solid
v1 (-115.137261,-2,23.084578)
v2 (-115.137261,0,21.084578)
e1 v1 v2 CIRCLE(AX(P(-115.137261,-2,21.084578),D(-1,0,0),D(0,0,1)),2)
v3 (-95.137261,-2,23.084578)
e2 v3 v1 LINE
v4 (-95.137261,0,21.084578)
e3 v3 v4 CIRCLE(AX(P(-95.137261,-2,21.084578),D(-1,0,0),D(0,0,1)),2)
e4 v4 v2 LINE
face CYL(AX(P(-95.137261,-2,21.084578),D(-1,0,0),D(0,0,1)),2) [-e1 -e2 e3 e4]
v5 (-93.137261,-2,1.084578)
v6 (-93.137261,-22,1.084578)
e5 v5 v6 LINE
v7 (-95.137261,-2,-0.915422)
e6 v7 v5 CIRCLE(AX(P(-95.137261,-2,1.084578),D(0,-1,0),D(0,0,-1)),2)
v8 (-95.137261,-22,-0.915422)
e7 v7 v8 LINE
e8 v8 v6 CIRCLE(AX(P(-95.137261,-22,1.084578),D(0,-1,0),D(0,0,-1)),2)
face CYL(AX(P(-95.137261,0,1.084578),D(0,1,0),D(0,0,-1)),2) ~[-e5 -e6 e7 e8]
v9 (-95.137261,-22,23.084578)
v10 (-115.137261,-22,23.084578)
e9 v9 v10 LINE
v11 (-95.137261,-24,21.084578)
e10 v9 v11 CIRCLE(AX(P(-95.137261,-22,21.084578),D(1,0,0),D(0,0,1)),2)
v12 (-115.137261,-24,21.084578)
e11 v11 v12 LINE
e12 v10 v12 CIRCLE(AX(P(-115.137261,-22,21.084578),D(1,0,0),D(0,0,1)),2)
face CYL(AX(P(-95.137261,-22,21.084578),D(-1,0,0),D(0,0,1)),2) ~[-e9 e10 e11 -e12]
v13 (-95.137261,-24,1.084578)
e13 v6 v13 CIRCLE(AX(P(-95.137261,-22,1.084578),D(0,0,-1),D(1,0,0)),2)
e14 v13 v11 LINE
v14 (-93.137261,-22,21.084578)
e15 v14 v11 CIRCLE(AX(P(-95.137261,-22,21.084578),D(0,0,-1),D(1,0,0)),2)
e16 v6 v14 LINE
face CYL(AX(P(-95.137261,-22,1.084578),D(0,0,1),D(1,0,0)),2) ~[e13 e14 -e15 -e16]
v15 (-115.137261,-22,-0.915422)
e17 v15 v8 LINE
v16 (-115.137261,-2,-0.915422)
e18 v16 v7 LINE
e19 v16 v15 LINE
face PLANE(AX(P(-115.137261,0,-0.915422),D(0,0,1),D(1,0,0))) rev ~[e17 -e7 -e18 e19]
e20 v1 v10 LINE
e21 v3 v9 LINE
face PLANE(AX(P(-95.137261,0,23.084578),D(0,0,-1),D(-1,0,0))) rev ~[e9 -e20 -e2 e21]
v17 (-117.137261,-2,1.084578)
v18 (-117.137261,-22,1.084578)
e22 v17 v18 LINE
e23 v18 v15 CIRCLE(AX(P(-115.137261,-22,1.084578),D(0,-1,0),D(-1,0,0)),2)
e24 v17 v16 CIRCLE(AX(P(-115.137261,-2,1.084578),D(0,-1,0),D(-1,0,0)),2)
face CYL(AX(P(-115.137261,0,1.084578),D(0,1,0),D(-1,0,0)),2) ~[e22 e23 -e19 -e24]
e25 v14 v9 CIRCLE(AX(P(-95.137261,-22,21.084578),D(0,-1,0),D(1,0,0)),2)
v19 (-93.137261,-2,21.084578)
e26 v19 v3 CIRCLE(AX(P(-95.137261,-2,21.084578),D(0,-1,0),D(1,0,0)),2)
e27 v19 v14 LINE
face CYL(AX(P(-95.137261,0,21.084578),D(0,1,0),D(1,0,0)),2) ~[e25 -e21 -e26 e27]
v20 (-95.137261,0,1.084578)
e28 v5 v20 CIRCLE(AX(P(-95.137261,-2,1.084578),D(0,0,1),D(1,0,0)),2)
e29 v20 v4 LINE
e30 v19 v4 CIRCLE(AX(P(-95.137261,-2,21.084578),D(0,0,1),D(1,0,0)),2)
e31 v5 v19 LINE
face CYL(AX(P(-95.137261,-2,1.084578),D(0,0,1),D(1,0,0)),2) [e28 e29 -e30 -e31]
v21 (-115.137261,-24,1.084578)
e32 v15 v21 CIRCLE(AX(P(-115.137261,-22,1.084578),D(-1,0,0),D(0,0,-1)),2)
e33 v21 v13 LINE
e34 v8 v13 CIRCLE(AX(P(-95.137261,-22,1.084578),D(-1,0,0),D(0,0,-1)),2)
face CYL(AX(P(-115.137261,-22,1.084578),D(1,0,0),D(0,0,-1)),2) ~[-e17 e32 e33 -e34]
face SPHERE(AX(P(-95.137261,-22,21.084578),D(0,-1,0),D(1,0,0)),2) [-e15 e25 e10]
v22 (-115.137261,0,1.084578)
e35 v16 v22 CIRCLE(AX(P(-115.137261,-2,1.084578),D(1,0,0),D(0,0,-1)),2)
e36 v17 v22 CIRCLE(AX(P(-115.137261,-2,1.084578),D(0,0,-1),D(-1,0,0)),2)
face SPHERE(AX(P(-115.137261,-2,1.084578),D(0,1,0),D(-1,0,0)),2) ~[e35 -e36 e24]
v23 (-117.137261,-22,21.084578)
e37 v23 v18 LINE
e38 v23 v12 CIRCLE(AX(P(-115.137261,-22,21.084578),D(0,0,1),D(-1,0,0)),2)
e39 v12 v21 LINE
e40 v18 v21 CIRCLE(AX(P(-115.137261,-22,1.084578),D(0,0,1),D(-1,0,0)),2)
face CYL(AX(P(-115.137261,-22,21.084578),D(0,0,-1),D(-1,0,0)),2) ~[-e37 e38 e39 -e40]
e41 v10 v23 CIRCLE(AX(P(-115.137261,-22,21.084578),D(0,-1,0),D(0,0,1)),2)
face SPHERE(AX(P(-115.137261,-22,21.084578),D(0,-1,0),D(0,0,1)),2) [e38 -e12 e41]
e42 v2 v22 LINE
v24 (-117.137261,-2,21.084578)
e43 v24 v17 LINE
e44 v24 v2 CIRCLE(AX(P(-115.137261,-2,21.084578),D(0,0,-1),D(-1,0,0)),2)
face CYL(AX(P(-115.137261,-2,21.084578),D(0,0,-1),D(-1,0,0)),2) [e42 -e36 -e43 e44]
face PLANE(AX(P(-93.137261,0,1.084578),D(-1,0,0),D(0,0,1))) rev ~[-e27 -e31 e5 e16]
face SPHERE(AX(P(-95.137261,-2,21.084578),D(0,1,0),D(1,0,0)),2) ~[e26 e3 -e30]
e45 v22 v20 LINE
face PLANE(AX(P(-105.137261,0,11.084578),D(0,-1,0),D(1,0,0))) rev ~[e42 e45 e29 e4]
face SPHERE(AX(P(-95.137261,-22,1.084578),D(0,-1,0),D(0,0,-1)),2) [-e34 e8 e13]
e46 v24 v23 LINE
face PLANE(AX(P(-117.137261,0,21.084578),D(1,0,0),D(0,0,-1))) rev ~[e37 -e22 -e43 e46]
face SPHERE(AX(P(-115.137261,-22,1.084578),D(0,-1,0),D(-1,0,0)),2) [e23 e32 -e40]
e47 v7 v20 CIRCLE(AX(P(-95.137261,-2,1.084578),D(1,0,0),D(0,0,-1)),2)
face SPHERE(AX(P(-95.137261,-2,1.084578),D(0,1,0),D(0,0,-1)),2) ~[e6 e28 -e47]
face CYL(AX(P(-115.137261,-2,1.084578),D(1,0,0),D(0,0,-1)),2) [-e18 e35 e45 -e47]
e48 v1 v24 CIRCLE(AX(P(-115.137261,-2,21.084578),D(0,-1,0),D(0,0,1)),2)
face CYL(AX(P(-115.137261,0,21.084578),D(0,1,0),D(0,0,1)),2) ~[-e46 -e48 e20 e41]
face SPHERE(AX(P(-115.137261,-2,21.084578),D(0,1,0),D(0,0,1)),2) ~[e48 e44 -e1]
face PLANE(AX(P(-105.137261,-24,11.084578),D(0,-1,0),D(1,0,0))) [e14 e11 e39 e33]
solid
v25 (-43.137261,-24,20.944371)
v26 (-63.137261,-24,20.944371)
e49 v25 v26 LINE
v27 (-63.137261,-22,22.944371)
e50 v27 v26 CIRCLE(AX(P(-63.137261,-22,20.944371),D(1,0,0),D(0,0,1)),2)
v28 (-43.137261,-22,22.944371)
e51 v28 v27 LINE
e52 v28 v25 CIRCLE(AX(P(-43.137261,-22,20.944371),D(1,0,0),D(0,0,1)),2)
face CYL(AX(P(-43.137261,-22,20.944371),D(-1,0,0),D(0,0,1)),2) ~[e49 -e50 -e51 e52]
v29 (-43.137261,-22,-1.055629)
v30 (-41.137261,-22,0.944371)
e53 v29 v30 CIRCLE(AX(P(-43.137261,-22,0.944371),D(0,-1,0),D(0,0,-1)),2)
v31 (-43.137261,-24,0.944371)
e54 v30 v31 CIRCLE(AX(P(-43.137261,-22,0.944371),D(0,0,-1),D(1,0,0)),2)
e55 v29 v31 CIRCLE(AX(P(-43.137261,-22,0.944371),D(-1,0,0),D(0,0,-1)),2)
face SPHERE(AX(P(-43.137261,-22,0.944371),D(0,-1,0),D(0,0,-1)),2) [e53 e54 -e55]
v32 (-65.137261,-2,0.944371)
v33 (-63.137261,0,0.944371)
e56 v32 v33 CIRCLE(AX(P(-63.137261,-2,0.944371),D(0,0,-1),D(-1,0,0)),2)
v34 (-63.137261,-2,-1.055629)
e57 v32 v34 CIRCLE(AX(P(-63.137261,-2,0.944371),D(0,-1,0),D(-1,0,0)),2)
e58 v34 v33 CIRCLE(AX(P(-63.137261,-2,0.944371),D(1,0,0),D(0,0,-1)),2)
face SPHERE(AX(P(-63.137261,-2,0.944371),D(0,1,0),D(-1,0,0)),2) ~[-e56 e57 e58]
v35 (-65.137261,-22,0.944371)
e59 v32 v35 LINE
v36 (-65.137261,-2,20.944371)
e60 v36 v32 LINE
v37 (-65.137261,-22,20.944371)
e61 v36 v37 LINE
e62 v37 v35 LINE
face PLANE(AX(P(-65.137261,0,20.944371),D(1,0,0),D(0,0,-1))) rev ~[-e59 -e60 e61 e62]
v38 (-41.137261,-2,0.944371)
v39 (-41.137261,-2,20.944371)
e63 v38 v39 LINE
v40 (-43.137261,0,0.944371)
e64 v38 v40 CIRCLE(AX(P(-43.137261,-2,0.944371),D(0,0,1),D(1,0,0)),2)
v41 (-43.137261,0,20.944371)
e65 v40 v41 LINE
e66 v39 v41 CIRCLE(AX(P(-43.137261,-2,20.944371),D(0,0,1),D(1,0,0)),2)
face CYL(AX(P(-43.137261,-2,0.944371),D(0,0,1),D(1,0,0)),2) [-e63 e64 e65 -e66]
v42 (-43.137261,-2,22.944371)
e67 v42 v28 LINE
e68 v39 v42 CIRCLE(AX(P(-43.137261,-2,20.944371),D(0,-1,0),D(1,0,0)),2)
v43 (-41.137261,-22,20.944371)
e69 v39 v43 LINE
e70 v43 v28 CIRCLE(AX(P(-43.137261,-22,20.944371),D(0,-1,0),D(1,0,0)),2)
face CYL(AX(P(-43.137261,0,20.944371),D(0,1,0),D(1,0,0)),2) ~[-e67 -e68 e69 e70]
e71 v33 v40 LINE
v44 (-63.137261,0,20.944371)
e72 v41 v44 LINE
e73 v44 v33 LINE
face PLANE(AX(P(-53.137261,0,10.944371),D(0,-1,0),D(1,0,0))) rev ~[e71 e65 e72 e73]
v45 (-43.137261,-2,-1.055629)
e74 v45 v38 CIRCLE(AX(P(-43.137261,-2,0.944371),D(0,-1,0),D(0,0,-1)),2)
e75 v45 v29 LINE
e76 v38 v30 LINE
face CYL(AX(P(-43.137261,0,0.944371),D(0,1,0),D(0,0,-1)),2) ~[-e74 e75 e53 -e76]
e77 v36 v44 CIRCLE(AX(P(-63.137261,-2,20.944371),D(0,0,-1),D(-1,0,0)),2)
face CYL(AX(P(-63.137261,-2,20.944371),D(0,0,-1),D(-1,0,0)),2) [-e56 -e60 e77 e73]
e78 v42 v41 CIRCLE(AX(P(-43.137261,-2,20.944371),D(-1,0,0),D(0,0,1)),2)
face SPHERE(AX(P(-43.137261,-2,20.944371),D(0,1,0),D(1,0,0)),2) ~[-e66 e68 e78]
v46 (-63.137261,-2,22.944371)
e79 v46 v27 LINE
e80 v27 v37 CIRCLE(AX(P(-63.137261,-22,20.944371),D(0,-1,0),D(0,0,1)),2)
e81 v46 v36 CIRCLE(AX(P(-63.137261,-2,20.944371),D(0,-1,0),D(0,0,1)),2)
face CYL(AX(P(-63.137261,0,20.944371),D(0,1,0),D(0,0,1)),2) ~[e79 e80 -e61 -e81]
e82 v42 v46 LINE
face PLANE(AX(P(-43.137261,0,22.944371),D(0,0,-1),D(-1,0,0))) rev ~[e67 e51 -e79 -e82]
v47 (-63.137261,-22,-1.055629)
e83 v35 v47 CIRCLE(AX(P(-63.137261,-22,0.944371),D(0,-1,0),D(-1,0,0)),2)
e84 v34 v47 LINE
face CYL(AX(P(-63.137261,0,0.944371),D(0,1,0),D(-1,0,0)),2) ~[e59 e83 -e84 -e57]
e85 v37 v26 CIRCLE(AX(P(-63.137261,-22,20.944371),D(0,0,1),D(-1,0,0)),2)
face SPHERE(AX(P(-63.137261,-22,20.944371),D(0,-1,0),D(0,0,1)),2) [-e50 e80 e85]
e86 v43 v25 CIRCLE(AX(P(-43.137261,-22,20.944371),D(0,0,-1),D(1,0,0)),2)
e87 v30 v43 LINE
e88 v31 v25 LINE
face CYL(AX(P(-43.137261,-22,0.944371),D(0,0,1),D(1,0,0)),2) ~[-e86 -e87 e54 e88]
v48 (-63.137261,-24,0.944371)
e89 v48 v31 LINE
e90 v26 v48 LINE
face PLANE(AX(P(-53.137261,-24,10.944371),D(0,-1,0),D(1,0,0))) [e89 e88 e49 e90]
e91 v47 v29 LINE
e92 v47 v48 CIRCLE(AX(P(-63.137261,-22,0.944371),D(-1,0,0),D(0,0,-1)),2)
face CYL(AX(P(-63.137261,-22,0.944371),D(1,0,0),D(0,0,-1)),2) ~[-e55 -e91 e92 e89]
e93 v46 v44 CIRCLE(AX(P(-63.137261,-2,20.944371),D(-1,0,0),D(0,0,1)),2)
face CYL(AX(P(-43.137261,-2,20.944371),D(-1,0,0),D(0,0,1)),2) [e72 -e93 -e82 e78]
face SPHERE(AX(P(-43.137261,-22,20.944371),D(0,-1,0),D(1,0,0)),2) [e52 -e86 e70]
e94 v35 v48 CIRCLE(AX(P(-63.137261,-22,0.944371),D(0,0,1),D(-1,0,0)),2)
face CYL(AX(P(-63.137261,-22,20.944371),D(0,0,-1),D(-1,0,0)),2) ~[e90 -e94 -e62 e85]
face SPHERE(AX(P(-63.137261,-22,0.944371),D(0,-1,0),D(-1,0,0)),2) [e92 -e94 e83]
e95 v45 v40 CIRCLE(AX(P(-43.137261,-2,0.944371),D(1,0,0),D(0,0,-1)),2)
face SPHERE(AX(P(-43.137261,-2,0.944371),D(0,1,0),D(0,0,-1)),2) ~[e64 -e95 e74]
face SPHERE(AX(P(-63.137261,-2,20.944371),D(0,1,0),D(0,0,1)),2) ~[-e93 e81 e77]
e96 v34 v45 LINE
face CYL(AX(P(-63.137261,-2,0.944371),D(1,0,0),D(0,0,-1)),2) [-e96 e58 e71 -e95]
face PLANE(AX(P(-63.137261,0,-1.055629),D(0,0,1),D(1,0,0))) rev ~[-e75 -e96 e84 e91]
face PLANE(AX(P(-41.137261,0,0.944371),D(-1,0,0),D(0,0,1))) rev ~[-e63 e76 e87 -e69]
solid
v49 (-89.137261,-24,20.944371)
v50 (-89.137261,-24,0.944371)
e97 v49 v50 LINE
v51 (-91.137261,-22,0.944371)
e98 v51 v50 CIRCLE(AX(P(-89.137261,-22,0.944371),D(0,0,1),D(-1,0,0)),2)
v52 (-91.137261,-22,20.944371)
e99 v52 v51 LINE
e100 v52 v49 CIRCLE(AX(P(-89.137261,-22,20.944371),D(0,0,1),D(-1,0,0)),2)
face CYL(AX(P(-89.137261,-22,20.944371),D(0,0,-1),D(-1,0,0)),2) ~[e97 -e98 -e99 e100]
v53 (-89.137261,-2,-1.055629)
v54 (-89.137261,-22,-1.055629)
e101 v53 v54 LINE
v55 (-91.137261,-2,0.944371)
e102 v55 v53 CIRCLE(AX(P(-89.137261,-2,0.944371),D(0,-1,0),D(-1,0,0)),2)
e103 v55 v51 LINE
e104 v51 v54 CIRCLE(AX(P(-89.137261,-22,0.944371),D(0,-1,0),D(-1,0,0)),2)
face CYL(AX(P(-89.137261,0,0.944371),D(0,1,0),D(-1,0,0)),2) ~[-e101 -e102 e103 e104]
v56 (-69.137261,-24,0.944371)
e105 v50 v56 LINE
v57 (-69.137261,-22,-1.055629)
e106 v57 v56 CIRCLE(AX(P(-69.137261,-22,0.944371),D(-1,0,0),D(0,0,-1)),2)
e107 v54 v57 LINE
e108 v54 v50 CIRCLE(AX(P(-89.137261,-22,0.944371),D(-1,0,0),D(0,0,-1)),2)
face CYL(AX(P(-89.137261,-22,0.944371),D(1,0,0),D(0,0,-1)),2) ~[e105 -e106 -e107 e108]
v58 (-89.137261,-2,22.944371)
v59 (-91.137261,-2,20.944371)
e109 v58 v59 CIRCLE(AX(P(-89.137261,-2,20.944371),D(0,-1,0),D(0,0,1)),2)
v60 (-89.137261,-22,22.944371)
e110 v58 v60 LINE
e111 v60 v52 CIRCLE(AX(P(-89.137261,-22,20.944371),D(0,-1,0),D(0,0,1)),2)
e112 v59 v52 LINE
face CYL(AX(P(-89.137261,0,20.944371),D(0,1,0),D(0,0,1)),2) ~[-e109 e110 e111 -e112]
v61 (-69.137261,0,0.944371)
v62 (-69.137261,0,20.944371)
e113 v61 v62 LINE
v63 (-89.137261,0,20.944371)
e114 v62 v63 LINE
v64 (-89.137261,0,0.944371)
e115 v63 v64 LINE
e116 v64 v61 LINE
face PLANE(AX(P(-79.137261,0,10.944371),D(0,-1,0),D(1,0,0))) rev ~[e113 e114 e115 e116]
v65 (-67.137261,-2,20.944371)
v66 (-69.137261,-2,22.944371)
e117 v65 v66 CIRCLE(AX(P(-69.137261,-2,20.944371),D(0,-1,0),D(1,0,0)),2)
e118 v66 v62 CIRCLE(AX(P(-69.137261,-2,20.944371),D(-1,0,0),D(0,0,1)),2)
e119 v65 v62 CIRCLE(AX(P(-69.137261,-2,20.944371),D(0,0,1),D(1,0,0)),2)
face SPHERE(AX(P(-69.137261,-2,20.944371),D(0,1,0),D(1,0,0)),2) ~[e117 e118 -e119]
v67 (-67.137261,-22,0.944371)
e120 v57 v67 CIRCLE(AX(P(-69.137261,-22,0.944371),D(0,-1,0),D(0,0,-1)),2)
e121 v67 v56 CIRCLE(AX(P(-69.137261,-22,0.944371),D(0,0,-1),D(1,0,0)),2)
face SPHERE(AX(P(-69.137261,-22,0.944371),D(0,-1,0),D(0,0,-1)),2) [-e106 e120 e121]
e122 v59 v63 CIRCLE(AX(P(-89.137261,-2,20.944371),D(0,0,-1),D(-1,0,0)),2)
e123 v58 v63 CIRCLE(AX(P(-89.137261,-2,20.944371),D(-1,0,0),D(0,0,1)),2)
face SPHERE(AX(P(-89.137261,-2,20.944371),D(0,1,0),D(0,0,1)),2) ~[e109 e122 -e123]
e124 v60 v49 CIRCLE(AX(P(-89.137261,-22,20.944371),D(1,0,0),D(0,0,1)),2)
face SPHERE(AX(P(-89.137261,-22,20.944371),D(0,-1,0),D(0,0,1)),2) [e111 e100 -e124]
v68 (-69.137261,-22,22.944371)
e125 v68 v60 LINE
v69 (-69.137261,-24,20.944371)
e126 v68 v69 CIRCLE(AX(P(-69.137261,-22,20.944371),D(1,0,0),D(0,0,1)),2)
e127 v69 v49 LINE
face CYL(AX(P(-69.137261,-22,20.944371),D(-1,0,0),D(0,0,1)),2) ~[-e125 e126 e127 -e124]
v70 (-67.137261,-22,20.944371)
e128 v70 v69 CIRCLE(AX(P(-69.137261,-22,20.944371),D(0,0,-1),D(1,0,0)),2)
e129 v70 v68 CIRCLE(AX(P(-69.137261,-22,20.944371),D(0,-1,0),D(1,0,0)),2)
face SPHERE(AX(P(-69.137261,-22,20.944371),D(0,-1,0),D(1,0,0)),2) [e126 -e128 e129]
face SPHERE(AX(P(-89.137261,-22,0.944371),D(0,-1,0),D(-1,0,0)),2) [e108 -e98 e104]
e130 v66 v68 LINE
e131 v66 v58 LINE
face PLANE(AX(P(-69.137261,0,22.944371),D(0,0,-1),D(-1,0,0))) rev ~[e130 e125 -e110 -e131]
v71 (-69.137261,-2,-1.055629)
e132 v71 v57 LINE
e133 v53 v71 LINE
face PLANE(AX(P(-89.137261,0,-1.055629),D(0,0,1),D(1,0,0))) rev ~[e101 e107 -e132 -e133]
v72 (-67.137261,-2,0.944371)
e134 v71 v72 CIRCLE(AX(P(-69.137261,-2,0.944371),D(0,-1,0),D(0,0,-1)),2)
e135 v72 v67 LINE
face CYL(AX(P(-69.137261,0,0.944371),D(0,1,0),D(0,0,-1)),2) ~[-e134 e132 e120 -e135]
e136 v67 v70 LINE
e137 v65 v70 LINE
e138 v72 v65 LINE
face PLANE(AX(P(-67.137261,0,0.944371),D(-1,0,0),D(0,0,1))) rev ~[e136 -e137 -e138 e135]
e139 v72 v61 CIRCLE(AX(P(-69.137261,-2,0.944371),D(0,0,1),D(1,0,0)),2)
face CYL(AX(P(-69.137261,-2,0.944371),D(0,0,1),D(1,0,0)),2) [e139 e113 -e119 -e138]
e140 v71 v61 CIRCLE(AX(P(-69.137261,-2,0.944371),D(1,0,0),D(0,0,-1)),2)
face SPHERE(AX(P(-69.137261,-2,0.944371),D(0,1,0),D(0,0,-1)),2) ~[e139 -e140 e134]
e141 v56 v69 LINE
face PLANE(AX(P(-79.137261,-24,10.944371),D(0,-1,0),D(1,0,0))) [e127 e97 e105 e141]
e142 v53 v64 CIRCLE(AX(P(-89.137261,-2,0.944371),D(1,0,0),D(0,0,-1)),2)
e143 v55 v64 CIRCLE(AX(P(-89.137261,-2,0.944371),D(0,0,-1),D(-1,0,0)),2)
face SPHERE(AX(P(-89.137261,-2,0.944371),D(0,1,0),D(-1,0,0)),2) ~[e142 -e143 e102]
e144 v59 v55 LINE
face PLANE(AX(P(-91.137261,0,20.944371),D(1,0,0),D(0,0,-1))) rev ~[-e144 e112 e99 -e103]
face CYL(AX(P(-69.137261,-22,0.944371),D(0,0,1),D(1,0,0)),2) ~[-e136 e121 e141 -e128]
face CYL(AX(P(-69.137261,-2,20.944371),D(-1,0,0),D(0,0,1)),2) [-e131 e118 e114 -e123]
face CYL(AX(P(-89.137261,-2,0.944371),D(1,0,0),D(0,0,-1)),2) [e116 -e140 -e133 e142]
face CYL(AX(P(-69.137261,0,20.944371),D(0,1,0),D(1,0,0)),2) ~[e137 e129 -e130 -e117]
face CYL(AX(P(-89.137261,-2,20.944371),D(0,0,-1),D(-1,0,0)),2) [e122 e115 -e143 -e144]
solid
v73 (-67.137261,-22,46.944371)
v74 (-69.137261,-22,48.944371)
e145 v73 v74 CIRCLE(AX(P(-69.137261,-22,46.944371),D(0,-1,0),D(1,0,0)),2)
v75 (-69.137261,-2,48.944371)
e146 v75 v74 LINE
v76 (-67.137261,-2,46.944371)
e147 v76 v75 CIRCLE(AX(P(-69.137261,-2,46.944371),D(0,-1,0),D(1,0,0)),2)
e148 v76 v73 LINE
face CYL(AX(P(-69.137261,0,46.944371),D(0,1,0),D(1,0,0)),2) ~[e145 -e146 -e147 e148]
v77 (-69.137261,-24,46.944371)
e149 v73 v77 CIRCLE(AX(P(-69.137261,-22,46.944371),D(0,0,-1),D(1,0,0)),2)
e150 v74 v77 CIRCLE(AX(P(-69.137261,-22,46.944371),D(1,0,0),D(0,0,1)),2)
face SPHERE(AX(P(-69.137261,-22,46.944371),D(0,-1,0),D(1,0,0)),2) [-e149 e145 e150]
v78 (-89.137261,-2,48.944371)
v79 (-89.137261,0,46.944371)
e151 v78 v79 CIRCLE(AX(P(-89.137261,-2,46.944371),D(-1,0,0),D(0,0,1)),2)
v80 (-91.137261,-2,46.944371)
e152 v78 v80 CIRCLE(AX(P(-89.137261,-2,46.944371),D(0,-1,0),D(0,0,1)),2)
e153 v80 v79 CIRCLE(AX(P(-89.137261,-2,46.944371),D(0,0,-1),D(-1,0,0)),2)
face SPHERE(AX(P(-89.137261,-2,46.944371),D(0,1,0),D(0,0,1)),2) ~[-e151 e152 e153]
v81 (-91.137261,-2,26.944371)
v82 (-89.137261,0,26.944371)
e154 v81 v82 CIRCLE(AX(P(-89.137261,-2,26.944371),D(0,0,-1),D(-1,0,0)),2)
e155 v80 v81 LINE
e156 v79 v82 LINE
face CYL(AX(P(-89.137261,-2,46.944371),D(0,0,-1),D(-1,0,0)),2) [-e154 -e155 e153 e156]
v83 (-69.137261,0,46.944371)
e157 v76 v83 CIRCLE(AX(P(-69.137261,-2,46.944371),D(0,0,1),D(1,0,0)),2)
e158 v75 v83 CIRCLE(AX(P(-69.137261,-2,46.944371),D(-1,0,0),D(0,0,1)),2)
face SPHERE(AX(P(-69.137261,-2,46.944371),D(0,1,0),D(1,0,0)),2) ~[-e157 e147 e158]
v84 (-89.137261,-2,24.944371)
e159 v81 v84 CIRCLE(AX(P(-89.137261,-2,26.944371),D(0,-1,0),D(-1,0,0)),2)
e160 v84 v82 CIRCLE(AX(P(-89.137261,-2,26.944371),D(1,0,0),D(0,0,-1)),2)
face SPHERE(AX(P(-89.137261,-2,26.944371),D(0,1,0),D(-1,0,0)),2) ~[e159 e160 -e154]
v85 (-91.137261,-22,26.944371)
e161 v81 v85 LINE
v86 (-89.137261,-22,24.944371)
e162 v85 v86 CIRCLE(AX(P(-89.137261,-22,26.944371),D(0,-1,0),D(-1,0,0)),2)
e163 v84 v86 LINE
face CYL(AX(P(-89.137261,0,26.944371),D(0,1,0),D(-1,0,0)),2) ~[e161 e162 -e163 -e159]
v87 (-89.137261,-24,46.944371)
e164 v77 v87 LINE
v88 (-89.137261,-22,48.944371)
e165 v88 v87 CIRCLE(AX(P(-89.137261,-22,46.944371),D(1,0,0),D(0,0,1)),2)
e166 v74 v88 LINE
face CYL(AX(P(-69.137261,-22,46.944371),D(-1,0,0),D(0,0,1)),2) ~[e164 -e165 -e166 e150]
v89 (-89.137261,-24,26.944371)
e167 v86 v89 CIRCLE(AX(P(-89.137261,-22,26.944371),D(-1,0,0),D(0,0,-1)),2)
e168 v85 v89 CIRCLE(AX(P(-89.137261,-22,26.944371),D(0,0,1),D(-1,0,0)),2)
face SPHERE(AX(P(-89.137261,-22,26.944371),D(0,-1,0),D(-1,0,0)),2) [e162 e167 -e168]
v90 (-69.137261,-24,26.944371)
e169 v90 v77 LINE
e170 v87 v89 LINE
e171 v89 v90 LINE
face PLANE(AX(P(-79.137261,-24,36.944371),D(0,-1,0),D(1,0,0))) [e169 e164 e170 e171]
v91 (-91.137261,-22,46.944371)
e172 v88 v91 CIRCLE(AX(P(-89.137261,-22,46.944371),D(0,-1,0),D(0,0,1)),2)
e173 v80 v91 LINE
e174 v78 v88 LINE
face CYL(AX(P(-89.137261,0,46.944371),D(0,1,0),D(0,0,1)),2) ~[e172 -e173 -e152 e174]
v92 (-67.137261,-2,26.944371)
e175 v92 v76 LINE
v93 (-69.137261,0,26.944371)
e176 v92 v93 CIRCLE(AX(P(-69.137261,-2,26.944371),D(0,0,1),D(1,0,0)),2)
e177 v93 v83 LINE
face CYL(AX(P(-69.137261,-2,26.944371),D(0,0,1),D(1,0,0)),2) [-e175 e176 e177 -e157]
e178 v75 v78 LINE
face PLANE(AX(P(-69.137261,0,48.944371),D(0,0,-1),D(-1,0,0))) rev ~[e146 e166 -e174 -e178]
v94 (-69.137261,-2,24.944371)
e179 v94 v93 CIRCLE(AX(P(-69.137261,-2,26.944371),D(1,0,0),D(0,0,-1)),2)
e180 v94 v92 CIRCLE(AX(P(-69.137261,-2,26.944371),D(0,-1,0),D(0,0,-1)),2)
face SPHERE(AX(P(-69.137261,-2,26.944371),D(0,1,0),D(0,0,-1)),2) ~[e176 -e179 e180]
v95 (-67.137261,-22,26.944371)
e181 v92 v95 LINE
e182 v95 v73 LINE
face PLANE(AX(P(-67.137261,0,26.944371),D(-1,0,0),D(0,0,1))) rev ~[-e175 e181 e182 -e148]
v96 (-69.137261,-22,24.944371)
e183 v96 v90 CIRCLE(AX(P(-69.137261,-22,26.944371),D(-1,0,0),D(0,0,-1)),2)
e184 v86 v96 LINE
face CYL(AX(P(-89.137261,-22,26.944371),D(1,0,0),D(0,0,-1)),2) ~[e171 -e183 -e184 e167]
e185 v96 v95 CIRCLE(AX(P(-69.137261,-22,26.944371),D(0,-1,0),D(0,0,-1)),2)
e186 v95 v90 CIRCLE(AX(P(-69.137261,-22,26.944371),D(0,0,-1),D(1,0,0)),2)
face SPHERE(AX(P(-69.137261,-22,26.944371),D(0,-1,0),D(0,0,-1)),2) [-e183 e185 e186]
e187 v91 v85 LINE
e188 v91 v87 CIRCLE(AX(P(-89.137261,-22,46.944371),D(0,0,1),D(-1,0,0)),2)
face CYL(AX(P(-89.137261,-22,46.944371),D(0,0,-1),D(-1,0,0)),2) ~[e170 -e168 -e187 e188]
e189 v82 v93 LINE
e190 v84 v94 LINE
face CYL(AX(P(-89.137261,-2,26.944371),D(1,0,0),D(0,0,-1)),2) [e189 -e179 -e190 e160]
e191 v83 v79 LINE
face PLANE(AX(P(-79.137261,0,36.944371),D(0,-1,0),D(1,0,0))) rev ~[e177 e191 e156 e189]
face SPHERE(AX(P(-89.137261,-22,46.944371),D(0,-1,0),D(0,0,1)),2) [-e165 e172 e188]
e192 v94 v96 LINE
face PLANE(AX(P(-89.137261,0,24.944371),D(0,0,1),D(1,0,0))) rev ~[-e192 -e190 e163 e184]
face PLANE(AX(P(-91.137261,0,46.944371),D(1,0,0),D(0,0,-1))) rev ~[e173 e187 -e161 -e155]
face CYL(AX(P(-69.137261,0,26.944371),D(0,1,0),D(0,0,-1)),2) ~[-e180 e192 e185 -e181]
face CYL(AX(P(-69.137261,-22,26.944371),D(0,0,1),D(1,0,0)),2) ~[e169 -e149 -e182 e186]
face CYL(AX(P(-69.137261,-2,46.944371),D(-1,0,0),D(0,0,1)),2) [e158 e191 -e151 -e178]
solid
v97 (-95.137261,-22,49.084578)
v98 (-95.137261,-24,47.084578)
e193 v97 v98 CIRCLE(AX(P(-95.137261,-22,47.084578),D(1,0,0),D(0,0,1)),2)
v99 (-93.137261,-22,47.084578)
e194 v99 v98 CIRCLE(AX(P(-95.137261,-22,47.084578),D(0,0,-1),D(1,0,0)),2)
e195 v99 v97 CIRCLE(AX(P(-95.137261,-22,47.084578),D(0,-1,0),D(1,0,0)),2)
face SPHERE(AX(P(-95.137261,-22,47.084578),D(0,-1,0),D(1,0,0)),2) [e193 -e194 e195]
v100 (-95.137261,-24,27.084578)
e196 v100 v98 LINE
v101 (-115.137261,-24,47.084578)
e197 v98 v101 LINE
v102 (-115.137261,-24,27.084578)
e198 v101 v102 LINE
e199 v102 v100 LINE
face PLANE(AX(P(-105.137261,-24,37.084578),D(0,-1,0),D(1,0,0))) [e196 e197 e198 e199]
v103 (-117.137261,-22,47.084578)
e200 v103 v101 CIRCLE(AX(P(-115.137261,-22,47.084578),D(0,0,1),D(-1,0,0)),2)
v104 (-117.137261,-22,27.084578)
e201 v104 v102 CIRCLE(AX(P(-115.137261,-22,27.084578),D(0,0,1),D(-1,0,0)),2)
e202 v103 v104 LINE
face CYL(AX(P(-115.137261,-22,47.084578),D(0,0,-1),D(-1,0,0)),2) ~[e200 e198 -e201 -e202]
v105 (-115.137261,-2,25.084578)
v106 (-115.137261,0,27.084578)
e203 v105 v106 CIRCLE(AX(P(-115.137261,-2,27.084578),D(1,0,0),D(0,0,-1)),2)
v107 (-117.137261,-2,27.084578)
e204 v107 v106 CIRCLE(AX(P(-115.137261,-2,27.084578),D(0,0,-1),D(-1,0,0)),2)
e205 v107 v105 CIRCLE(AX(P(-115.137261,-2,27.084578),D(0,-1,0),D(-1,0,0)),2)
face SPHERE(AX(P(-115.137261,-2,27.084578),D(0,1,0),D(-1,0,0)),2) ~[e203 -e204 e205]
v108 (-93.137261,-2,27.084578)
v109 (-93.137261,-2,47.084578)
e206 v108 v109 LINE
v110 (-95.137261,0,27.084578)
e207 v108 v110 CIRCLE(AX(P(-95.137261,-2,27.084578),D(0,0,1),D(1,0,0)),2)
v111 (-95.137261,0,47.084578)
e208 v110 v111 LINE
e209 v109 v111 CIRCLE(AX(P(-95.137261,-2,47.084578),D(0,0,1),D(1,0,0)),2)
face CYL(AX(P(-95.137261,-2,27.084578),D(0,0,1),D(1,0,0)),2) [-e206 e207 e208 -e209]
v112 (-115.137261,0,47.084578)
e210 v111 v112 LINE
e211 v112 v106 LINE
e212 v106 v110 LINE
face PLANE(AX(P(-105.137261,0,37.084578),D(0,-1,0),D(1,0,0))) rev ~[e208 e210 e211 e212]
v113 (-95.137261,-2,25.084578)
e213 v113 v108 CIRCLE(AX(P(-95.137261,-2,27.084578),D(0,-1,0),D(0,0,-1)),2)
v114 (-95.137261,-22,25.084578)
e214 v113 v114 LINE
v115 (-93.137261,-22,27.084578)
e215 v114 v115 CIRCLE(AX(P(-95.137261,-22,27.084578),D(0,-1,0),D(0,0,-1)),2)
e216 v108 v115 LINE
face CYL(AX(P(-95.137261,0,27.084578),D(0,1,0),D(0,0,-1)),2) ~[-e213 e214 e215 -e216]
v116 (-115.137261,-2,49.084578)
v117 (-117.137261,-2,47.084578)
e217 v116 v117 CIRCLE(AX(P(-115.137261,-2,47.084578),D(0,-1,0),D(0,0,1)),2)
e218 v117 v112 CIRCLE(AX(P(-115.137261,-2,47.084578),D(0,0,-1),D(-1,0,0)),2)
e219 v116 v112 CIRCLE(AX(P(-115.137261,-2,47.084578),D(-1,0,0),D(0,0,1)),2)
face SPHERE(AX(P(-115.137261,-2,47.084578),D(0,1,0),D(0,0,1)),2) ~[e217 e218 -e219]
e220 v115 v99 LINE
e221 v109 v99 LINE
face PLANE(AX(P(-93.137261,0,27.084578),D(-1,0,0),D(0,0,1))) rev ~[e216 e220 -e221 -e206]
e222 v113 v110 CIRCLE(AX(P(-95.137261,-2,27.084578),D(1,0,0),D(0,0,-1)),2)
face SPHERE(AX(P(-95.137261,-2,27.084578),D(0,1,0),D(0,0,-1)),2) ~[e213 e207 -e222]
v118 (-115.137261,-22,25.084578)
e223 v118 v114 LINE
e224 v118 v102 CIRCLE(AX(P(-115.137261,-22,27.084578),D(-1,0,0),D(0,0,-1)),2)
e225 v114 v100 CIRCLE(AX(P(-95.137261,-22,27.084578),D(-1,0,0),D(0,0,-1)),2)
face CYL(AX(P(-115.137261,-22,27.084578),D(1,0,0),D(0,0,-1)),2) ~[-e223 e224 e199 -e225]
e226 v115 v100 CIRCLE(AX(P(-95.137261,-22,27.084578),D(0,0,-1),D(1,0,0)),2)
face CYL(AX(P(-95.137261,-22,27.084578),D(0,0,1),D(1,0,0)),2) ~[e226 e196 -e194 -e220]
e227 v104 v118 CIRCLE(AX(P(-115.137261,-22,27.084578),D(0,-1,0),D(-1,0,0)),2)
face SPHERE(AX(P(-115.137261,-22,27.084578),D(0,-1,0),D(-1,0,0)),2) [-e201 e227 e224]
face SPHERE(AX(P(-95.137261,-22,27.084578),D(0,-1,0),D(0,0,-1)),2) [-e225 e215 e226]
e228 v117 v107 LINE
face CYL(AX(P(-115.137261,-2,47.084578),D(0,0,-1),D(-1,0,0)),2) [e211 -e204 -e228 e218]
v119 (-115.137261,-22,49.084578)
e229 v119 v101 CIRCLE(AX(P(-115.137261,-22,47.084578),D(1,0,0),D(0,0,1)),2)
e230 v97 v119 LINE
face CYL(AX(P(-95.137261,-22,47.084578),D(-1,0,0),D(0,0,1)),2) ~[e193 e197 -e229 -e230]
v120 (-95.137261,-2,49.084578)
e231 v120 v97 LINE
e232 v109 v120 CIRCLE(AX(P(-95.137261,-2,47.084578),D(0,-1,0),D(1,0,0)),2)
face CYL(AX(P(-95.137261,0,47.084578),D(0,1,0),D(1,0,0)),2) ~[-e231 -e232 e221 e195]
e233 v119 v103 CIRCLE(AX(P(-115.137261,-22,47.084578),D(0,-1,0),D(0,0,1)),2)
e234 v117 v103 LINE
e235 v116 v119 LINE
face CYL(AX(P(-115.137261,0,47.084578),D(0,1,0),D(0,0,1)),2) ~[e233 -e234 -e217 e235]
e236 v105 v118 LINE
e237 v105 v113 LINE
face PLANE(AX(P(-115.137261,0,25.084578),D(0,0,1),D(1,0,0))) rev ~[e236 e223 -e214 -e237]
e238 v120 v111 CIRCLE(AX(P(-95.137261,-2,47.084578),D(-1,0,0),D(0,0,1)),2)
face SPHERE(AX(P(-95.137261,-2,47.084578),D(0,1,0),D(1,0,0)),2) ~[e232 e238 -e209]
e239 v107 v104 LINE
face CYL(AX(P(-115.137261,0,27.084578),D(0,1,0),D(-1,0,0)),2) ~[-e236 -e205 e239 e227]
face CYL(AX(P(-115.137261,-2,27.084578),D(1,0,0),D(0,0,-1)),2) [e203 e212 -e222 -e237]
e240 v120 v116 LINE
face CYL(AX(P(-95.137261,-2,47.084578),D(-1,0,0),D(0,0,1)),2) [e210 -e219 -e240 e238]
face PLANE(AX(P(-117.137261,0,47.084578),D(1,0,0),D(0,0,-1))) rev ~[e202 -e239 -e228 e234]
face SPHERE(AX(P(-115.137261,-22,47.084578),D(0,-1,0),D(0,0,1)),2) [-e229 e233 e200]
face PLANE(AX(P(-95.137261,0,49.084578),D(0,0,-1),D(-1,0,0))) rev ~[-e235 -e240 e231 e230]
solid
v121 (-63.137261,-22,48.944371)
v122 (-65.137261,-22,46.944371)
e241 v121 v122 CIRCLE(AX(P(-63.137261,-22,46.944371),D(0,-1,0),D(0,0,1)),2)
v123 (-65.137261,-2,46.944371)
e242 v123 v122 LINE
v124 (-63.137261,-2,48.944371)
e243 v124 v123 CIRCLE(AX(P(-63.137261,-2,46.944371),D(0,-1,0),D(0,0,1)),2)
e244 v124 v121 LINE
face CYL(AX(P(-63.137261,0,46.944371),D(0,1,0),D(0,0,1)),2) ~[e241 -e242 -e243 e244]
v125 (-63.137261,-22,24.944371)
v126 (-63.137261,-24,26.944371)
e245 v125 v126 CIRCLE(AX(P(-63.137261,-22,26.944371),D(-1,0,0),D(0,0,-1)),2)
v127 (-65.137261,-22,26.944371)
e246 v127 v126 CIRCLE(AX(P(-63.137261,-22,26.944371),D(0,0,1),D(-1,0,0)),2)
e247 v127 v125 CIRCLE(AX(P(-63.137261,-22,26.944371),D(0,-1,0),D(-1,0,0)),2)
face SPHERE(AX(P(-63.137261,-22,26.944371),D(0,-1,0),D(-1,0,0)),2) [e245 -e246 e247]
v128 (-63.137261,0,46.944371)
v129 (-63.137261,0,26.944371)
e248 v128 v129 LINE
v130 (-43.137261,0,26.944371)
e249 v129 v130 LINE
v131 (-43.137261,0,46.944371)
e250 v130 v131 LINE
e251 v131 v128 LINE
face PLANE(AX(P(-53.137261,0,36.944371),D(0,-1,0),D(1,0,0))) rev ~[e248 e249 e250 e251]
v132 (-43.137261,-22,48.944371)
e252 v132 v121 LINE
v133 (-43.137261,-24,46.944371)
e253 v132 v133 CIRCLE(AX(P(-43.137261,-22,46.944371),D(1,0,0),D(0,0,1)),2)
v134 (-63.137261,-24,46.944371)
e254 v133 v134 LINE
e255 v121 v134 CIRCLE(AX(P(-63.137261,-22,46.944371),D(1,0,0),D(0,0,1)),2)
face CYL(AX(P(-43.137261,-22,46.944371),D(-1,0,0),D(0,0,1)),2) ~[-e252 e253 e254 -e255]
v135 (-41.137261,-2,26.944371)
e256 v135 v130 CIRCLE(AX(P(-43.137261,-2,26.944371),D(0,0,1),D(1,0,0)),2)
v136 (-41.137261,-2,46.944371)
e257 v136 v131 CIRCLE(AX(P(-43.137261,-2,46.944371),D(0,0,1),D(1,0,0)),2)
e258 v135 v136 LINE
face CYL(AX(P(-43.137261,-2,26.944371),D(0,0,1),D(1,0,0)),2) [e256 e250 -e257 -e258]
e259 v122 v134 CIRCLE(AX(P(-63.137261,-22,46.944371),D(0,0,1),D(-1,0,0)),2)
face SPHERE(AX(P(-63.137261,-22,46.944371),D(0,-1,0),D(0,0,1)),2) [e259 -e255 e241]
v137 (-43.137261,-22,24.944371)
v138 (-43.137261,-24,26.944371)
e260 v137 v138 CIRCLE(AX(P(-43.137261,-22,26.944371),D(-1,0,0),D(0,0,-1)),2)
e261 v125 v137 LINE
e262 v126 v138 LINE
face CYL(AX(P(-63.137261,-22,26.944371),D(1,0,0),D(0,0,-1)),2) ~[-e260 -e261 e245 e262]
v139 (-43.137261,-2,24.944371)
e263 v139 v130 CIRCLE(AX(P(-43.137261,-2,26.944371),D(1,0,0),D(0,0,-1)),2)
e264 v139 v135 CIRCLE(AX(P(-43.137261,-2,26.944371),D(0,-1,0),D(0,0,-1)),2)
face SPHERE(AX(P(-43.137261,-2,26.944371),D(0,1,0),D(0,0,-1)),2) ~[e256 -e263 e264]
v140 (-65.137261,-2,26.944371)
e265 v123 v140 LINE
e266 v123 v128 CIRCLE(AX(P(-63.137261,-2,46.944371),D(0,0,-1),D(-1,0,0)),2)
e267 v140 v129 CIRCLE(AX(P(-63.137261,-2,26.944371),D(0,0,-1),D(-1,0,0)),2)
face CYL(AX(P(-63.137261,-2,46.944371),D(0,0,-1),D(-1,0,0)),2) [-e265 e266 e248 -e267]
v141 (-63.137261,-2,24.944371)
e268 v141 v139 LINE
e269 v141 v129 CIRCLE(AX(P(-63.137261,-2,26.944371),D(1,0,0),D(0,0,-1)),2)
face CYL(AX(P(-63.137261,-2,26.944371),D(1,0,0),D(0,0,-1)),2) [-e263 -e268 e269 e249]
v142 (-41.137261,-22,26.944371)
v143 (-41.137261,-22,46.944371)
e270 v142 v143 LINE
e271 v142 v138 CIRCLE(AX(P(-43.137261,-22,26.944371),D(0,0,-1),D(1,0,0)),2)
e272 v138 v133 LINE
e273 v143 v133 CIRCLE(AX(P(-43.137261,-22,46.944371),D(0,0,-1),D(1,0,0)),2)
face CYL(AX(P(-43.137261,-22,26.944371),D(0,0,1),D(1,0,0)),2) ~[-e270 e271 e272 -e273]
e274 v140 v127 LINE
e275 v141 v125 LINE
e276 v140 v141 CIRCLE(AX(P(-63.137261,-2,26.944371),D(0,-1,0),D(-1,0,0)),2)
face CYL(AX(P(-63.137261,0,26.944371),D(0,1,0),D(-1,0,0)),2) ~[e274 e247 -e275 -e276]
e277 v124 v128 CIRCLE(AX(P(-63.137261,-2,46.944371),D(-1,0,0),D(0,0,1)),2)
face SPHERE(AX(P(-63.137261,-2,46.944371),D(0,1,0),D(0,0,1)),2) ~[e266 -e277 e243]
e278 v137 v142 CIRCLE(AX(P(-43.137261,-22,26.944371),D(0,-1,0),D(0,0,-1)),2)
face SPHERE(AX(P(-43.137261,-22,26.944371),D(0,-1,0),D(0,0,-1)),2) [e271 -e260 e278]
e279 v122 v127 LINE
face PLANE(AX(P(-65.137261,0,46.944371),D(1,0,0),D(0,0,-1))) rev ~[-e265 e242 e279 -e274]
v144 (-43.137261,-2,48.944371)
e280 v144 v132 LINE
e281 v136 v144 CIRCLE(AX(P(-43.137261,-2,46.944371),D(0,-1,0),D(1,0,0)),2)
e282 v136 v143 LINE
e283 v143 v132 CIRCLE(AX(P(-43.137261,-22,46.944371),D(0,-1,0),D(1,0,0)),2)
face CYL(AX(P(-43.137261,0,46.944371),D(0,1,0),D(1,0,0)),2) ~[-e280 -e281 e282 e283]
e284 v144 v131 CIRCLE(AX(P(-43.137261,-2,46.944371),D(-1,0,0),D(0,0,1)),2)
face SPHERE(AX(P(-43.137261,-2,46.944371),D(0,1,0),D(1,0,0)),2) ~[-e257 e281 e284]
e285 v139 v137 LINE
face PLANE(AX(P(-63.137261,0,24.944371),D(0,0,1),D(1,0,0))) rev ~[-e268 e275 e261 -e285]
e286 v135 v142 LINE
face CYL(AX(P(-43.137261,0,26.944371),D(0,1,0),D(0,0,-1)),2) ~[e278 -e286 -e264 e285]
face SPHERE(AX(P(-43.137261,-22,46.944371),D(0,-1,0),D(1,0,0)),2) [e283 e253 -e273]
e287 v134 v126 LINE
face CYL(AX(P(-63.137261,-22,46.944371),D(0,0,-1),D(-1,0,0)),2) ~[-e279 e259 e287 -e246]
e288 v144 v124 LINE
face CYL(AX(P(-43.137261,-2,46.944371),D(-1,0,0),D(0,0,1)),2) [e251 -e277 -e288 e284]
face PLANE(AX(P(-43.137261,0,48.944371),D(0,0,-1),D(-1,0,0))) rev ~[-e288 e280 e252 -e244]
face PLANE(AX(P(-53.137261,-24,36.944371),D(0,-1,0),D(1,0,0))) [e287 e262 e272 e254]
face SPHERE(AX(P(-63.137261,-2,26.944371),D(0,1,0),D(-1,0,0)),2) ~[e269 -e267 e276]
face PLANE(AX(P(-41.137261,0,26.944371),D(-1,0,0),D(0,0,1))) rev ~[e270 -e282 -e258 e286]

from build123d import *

# Parameters (mm, degrees)
F1_DEPTH = 24
F2_R     = 2
F2_2_R   = 2
F2_3_R   = 2
F2_4_R   = 2
F2_5_R   = 2
F2_6_R   = 2


with BuildPart() as f1:
    # F0 (on Front) → F1 (new body)
    with BuildSketch(Plane.XZ):
        with BuildLine():
            Line((-43.137260735, 48.9443709028), (-63.137260735, 48.9443709028))
            ThreePointArc((-63.137260735, 48.9443709028), (-64.5514742974, 48.3585844652), (-65.137260735, 46.9443709028))
            Line((-65.137260735, 46.9443709028), (-65.137260735, 26.9443709028))
            ThreePointArc((-65.137260735, 26.9443709028), (-64.5514742974, 25.5301573404), (-63.137260735, 24.9443709028))
            Line((-63.137260735, 24.9443709028), (-43.137260735, 24.9443709028))
            ThreePointArc((-43.137260735, 24.9443709028), (-41.7230471727, 25.5301573404), (-41.137260735, 26.9443709028))
            Line((-41.137260735, 26.9443709028), (-41.137260735, 46.9443709028))
            ThreePointArc((-41.137260735, 46.9443709028), (-41.7230471727, 48.3585844652), (-43.137260735, 48.9443709028))
        make_face()
    extrude(amount=F1_DEPTH)

    # F2#4
    f2_4_edges = [f1.edges().sort_by_distance(p)[0] for p in [
        (-53.137261, -24, 48.944371),
        (-64.551474, -24, 48.358584),
        (-65.137261, -24, 36.944371),
        (-64.551474, -24, 25.530157),
        (-53.137261, -24, 24.944371),
        (-41.723047, -24, 25.530157),
        (-41.137261, -24, 36.944371),
        (-41.723047, -24, 48.358584),
        (-53.137261, 0, 48.944371),
        (-64.551474, 0, 48.358584),
        (-65.137261, 0, 36.944371),
        (-64.551474, 0, 25.530157),
        (-53.137261, 0, 24.944371),
        (-41.723047, 0, 25.530157),
        (-41.137261, 0, 36.944371),
        (-41.723047, 0, 48.358584),
    ]]
    fillet(f2_4_edges, radius=F2_4_R)


with BuildPart() as f1b:
    # F0 (on Front) → F1, piece 2 (new body)
    with BuildSketch(Plane.XZ):
        with BuildLine():
            Line((-43.137260735, 22.9443709028), (-63.137260735, 22.9443709028))
            ThreePointArc((-63.137260735, 22.9443709028), (-64.5514742974, 22.3585844652), (-65.137260735, 20.9443709028))
            Line((-65.137260735, 20.9443709028), (-65.137260735, 0.9443709028))
            ThreePointArc((-65.137260735, 0.9443709028), (-64.5514742974, -0.4698426596), (-63.137260735, -1.0556290972))
            Line((-63.137260735, -1.0556290972), (-43.137260735, -1.0556290972))
            ThreePointArc((-43.137260735, -1.0556290972), (-41.7230471727, -0.4698426596), (-41.137260735, 0.9443709028))
            Line((-41.137260735, 0.9443709028), (-41.137260735, 20.9443709028))
            ThreePointArc((-41.137260735, 20.9443709028), (-41.7230471727, 22.3585844652), (-43.137260735, 22.9443709028))
        make_face()
    extrude(amount=F1_DEPTH)

    # F2#3
    f2_3_edges = [f1b.edges().sort_by_distance(p)[0] for p in [
        (-41.137261, -24, 10.944371),
        (-41.723047, -24, 22.358584),
        (-53.137261, -24, 22.944371),
        (-64.551474, -24, 22.358584),
        (-65.137261, -24, 10.944371),
        (-64.551474, -24, -0.469843),
        (-53.137261, -24, -1.055629),
        (-41.723047, -24, -0.469843),
        (-41.137261, 0, 10.944371),
        (-41.723047, 0, 22.358584),
        (-53.137261, 0, 22.944371),
        (-64.551474, 0, 22.358584),
        (-65.137261, 0, 10.944371),
        (-64.551474, 0, -0.469843),
        (-53.137261, 0, -1.055629),
        (-41.723047, 0, -0.469843),
    ]]
    fillet(f2_3_edges, radius=F2_3_R)


with BuildPart() as f1c:
    # F0 (on Front) → F1, piece 3 (new body)
    with BuildSketch(Plane.XZ):
        with BuildLine():
            Line((-69.137260735, 48.944370891), (-89.137260735, 48.944370891))
            ThreePointArc((-89.137260735, 48.944370891), (-90.5514742974, 48.3585844533), (-91.137260735, 46.944370891))
            Line((-91.137260735, 46.944370891), (-91.137260735, 26.944370891))
            ThreePointArc((-91.137260735, 26.944370891), (-90.5514742974, 25.5301573286), (-89.137260735, 24.944370891))
            Line((-89.137260735, 24.944370891), (-69.137260735, 24.944370891))
            ThreePointArc((-69.137260735, 24.944370891), (-67.7230471727, 25.5301573286), (-67.137260735, 26.944370891))
            Line((-67.137260735, 26.944370891), (-67.137260735, 46.944370891))
            ThreePointArc((-67.137260735, 46.944370891), (-67.7230471727, 48.3585844533), (-69.137260735, 48.944370891))
        make_face()
    extrude(amount=F1_DEPTH)

    # F2#5
    f2_5_edges = [f1c.edges().sort_by_distance(p)[0] for p in [
        (-67.723047, -24, 48.358584),
        (-79.137261, -24, 48.944371),
        (-90.551474, -24, 48.358584),
        (-91.137261, -24, 36.944371),
        (-90.551474, -24, 25.530157),
        (-79.137261, -24, 24.944371),
        (-67.723047, -24, 25.530157),
        (-67.137261, -24, 36.944371),
        (-67.723047, 0, 48.358584),
        (-79.137261, 0, 48.944371),
        (-90.551474, 0, 48.358584),
        (-91.137261, 0, 36.944371),
        (-90.551474, 0, 25.530157),
        (-79.137261, 0, 24.944371),
        (-67.723047, 0, 25.530157),
        (-67.137261, 0, 36.944371),
    ]]
    fillet(f2_5_edges, radius=F2_5_R)


with BuildPart() as f1d:
    # F0 (on Front) → F1, piece 4 (new body)
    with BuildSketch(Plane.XZ):
        with BuildLine():
            Line((-69.137260735, 22.944370891), (-89.137260735, 22.944370891))
            ThreePointArc((-89.137260735, 22.944370891), (-90.5514742974, 22.3585844533), (-91.137260735, 20.944370891))
            Line((-91.137260735, 20.944370891), (-91.137260735, 0.944370891))
            ThreePointArc((-91.137260735, 0.944370891), (-90.5514742974, -0.4698426714), (-89.137260735, -1.055629109))
            Line((-89.137260735, -1.055629109), (-69.137260735, -1.055629109))
            ThreePointArc((-69.137260735, -1.055629109), (-67.7230471727, -0.4698426714), (-67.137260735, 0.944370891))
            Line((-67.137260735, 0.944370891), (-67.137260735, 20.944370891))
            ThreePointArc((-67.137260735, 20.944370891), (-67.7230471727, 22.3585844533), (-69.137260735, 22.944370891))
        make_face()
    extrude(amount=F1_DEPTH)

    # F2#2
    f2_2_edges = [f1d.edges().sort_by_distance(p)[0] for p in [
        (-67.137261, -24, 10.944371),
        (-67.723047, -24, 22.358584),
        (-79.137261, -24, 22.944371),
        (-90.551474, -24, 22.358584),
        (-91.137261, -24, 10.944371),
        (-90.551474, -24, -0.469843),
        (-79.137261, -24, -1.055629),
        (-67.723047, -24, -0.469843),
        (-67.137261, 0, 10.944371),
        (-67.723047, 0, 22.358584),
        (-79.137261, 0, 22.944371),
        (-90.551474, 0, 22.358584),
        (-91.137261, 0, 10.944371),
        (-90.551474, 0, -0.469843),
        (-79.137261, 0, -1.055629),
        (-67.723047, 0, -0.469843),
    ]]
    fillet(f2_2_edges, radius=F2_2_R)


with BuildPart() as f1e:
    # F0 (on Front) → F1, piece 5 (new body)
    with BuildSketch(Plane.XZ):
        with BuildLine():
            Line((-95.137260735, 49.0845778957), (-115.137260735, 49.0845778957))
            ThreePointArc((-115.137260735, 49.0845778957), (-116.5514742974, 48.4987914581), (-117.137260735, 47.0845778957))
            Line((-117.137260735, 47.0845778957), (-117.137260735, 27.0845778957))
            ThreePointArc((-117.137260735, 27.0845778957), (-116.5514742974, 25.6703643333), (-115.137260735, 25.0845778957))
            Line((-115.137260735, 25.0845778957), (-95.137260735, 25.0845778957))
            ThreePointArc((-95.137260735, 25.0845778957), (-93.7230471727, 25.6703643333), (-93.137260735, 27.0845778957))
            Line((-93.137260735, 27.0845778957), (-93.137260735, 47.0845778957))
            ThreePointArc((-93.137260735, 47.0845778957), (-93.7230471727, 48.4987914581), (-95.137260735, 49.0845778957))
        make_face()
    extrude(amount=F1_DEPTH)

    # F2#6
    f2_6_edges = [f1e.edges().sort_by_distance(p)[0] for p in [
        (-105.137261, -24, 49.084578),
        (-116.551474, -24, 48.498791),
        (-117.137261, -24, 37.084578),
        (-116.551474, -24, 25.670364),
        (-105.137261, -24, 25.084578),
        (-93.723047, -24, 25.670364),
        (-93.137261, -24, 37.084578),
        (-93.723047, -24, 48.498791),
        (-105.137261, 0, 49.084578),
        (-116.551474, 0, 48.498791),
        (-117.137261, 0, 37.084578),
        (-116.551474, 0, 25.670364),
        (-105.137261, 0, 25.084578),
        (-93.723047, 0, 25.670364),
        (-93.137261, 0, 37.084578),
        (-93.723047, 0, 48.498791),
    ]]
    fillet(f2_6_edges, radius=F2_6_R)


with BuildPart() as f1f:
    # F0 (on Front) → F1, piece 6 (new body)
    with BuildSketch(Plane.XZ):
        with BuildLine():
            Line((-95.137260735, 23.0845778957), (-115.137260735, 23.0845778957))
            ThreePointArc((-115.137260735, 23.0845778957), (-116.5514742974, 22.4987914581), (-117.137260735, 21.0845778957))
            Line((-117.137260735, 21.0845778957), (-117.137260735, 1.0845778957))
            ThreePointArc((-117.137260735, 1.0845778957), (-116.5514742974, -0.3296356667), (-115.137260735, -0.9154221043))
            Line((-115.137260735, -0.9154221043), (-95.137260735, -0.9154221043))
            ThreePointArc((-95.137260735, -0.9154221043), (-93.7230471727, -0.3296356667), (-93.137260735, 1.0845778957))
            Line((-93.137260735, 1.0845778957), (-93.137260735, 21.0845778957))
            ThreePointArc((-93.137260735, 21.0845778957), (-93.7230471727, 22.4987914581), (-95.137260735, 23.0845778957))
        make_face()
    extrude(amount=F1_DEPTH)

    # F2
    f2_edges = [f1f.edges().sort_by_distance(p)[0] for p in [
        (-105.137261, -24, 23.084578),
        (-116.551474, -24, 22.498791),
        (-117.137261, -24, 11.084578),
        (-116.551474, -24, -0.329636),
        (-105.137261, -24, -0.915422),
        (-93.723047, -24, -0.329636),
        (-93.137261, -24, 11.084578),
        (-93.723047, -24, 22.498791),
        (-105.137261, 0, 23.084578),
        (-116.551474, 0, 22.498791),
        (-117.137261, 0, 11.084578),
        (-116.551474, 0, -0.329636),
        (-105.137261, 0, -0.915422),
        (-93.723047, 0, -0.329636),
        (-93.137261, 0, 11.084578),
        (-93.723047, 0, 22.498791),
    ]]
    fillet(f2_edges, radius=F2_R)


solid = Compound([f1.part, f1b.part, f1c.part, f1d.part, f1e.part, f1f.part])
